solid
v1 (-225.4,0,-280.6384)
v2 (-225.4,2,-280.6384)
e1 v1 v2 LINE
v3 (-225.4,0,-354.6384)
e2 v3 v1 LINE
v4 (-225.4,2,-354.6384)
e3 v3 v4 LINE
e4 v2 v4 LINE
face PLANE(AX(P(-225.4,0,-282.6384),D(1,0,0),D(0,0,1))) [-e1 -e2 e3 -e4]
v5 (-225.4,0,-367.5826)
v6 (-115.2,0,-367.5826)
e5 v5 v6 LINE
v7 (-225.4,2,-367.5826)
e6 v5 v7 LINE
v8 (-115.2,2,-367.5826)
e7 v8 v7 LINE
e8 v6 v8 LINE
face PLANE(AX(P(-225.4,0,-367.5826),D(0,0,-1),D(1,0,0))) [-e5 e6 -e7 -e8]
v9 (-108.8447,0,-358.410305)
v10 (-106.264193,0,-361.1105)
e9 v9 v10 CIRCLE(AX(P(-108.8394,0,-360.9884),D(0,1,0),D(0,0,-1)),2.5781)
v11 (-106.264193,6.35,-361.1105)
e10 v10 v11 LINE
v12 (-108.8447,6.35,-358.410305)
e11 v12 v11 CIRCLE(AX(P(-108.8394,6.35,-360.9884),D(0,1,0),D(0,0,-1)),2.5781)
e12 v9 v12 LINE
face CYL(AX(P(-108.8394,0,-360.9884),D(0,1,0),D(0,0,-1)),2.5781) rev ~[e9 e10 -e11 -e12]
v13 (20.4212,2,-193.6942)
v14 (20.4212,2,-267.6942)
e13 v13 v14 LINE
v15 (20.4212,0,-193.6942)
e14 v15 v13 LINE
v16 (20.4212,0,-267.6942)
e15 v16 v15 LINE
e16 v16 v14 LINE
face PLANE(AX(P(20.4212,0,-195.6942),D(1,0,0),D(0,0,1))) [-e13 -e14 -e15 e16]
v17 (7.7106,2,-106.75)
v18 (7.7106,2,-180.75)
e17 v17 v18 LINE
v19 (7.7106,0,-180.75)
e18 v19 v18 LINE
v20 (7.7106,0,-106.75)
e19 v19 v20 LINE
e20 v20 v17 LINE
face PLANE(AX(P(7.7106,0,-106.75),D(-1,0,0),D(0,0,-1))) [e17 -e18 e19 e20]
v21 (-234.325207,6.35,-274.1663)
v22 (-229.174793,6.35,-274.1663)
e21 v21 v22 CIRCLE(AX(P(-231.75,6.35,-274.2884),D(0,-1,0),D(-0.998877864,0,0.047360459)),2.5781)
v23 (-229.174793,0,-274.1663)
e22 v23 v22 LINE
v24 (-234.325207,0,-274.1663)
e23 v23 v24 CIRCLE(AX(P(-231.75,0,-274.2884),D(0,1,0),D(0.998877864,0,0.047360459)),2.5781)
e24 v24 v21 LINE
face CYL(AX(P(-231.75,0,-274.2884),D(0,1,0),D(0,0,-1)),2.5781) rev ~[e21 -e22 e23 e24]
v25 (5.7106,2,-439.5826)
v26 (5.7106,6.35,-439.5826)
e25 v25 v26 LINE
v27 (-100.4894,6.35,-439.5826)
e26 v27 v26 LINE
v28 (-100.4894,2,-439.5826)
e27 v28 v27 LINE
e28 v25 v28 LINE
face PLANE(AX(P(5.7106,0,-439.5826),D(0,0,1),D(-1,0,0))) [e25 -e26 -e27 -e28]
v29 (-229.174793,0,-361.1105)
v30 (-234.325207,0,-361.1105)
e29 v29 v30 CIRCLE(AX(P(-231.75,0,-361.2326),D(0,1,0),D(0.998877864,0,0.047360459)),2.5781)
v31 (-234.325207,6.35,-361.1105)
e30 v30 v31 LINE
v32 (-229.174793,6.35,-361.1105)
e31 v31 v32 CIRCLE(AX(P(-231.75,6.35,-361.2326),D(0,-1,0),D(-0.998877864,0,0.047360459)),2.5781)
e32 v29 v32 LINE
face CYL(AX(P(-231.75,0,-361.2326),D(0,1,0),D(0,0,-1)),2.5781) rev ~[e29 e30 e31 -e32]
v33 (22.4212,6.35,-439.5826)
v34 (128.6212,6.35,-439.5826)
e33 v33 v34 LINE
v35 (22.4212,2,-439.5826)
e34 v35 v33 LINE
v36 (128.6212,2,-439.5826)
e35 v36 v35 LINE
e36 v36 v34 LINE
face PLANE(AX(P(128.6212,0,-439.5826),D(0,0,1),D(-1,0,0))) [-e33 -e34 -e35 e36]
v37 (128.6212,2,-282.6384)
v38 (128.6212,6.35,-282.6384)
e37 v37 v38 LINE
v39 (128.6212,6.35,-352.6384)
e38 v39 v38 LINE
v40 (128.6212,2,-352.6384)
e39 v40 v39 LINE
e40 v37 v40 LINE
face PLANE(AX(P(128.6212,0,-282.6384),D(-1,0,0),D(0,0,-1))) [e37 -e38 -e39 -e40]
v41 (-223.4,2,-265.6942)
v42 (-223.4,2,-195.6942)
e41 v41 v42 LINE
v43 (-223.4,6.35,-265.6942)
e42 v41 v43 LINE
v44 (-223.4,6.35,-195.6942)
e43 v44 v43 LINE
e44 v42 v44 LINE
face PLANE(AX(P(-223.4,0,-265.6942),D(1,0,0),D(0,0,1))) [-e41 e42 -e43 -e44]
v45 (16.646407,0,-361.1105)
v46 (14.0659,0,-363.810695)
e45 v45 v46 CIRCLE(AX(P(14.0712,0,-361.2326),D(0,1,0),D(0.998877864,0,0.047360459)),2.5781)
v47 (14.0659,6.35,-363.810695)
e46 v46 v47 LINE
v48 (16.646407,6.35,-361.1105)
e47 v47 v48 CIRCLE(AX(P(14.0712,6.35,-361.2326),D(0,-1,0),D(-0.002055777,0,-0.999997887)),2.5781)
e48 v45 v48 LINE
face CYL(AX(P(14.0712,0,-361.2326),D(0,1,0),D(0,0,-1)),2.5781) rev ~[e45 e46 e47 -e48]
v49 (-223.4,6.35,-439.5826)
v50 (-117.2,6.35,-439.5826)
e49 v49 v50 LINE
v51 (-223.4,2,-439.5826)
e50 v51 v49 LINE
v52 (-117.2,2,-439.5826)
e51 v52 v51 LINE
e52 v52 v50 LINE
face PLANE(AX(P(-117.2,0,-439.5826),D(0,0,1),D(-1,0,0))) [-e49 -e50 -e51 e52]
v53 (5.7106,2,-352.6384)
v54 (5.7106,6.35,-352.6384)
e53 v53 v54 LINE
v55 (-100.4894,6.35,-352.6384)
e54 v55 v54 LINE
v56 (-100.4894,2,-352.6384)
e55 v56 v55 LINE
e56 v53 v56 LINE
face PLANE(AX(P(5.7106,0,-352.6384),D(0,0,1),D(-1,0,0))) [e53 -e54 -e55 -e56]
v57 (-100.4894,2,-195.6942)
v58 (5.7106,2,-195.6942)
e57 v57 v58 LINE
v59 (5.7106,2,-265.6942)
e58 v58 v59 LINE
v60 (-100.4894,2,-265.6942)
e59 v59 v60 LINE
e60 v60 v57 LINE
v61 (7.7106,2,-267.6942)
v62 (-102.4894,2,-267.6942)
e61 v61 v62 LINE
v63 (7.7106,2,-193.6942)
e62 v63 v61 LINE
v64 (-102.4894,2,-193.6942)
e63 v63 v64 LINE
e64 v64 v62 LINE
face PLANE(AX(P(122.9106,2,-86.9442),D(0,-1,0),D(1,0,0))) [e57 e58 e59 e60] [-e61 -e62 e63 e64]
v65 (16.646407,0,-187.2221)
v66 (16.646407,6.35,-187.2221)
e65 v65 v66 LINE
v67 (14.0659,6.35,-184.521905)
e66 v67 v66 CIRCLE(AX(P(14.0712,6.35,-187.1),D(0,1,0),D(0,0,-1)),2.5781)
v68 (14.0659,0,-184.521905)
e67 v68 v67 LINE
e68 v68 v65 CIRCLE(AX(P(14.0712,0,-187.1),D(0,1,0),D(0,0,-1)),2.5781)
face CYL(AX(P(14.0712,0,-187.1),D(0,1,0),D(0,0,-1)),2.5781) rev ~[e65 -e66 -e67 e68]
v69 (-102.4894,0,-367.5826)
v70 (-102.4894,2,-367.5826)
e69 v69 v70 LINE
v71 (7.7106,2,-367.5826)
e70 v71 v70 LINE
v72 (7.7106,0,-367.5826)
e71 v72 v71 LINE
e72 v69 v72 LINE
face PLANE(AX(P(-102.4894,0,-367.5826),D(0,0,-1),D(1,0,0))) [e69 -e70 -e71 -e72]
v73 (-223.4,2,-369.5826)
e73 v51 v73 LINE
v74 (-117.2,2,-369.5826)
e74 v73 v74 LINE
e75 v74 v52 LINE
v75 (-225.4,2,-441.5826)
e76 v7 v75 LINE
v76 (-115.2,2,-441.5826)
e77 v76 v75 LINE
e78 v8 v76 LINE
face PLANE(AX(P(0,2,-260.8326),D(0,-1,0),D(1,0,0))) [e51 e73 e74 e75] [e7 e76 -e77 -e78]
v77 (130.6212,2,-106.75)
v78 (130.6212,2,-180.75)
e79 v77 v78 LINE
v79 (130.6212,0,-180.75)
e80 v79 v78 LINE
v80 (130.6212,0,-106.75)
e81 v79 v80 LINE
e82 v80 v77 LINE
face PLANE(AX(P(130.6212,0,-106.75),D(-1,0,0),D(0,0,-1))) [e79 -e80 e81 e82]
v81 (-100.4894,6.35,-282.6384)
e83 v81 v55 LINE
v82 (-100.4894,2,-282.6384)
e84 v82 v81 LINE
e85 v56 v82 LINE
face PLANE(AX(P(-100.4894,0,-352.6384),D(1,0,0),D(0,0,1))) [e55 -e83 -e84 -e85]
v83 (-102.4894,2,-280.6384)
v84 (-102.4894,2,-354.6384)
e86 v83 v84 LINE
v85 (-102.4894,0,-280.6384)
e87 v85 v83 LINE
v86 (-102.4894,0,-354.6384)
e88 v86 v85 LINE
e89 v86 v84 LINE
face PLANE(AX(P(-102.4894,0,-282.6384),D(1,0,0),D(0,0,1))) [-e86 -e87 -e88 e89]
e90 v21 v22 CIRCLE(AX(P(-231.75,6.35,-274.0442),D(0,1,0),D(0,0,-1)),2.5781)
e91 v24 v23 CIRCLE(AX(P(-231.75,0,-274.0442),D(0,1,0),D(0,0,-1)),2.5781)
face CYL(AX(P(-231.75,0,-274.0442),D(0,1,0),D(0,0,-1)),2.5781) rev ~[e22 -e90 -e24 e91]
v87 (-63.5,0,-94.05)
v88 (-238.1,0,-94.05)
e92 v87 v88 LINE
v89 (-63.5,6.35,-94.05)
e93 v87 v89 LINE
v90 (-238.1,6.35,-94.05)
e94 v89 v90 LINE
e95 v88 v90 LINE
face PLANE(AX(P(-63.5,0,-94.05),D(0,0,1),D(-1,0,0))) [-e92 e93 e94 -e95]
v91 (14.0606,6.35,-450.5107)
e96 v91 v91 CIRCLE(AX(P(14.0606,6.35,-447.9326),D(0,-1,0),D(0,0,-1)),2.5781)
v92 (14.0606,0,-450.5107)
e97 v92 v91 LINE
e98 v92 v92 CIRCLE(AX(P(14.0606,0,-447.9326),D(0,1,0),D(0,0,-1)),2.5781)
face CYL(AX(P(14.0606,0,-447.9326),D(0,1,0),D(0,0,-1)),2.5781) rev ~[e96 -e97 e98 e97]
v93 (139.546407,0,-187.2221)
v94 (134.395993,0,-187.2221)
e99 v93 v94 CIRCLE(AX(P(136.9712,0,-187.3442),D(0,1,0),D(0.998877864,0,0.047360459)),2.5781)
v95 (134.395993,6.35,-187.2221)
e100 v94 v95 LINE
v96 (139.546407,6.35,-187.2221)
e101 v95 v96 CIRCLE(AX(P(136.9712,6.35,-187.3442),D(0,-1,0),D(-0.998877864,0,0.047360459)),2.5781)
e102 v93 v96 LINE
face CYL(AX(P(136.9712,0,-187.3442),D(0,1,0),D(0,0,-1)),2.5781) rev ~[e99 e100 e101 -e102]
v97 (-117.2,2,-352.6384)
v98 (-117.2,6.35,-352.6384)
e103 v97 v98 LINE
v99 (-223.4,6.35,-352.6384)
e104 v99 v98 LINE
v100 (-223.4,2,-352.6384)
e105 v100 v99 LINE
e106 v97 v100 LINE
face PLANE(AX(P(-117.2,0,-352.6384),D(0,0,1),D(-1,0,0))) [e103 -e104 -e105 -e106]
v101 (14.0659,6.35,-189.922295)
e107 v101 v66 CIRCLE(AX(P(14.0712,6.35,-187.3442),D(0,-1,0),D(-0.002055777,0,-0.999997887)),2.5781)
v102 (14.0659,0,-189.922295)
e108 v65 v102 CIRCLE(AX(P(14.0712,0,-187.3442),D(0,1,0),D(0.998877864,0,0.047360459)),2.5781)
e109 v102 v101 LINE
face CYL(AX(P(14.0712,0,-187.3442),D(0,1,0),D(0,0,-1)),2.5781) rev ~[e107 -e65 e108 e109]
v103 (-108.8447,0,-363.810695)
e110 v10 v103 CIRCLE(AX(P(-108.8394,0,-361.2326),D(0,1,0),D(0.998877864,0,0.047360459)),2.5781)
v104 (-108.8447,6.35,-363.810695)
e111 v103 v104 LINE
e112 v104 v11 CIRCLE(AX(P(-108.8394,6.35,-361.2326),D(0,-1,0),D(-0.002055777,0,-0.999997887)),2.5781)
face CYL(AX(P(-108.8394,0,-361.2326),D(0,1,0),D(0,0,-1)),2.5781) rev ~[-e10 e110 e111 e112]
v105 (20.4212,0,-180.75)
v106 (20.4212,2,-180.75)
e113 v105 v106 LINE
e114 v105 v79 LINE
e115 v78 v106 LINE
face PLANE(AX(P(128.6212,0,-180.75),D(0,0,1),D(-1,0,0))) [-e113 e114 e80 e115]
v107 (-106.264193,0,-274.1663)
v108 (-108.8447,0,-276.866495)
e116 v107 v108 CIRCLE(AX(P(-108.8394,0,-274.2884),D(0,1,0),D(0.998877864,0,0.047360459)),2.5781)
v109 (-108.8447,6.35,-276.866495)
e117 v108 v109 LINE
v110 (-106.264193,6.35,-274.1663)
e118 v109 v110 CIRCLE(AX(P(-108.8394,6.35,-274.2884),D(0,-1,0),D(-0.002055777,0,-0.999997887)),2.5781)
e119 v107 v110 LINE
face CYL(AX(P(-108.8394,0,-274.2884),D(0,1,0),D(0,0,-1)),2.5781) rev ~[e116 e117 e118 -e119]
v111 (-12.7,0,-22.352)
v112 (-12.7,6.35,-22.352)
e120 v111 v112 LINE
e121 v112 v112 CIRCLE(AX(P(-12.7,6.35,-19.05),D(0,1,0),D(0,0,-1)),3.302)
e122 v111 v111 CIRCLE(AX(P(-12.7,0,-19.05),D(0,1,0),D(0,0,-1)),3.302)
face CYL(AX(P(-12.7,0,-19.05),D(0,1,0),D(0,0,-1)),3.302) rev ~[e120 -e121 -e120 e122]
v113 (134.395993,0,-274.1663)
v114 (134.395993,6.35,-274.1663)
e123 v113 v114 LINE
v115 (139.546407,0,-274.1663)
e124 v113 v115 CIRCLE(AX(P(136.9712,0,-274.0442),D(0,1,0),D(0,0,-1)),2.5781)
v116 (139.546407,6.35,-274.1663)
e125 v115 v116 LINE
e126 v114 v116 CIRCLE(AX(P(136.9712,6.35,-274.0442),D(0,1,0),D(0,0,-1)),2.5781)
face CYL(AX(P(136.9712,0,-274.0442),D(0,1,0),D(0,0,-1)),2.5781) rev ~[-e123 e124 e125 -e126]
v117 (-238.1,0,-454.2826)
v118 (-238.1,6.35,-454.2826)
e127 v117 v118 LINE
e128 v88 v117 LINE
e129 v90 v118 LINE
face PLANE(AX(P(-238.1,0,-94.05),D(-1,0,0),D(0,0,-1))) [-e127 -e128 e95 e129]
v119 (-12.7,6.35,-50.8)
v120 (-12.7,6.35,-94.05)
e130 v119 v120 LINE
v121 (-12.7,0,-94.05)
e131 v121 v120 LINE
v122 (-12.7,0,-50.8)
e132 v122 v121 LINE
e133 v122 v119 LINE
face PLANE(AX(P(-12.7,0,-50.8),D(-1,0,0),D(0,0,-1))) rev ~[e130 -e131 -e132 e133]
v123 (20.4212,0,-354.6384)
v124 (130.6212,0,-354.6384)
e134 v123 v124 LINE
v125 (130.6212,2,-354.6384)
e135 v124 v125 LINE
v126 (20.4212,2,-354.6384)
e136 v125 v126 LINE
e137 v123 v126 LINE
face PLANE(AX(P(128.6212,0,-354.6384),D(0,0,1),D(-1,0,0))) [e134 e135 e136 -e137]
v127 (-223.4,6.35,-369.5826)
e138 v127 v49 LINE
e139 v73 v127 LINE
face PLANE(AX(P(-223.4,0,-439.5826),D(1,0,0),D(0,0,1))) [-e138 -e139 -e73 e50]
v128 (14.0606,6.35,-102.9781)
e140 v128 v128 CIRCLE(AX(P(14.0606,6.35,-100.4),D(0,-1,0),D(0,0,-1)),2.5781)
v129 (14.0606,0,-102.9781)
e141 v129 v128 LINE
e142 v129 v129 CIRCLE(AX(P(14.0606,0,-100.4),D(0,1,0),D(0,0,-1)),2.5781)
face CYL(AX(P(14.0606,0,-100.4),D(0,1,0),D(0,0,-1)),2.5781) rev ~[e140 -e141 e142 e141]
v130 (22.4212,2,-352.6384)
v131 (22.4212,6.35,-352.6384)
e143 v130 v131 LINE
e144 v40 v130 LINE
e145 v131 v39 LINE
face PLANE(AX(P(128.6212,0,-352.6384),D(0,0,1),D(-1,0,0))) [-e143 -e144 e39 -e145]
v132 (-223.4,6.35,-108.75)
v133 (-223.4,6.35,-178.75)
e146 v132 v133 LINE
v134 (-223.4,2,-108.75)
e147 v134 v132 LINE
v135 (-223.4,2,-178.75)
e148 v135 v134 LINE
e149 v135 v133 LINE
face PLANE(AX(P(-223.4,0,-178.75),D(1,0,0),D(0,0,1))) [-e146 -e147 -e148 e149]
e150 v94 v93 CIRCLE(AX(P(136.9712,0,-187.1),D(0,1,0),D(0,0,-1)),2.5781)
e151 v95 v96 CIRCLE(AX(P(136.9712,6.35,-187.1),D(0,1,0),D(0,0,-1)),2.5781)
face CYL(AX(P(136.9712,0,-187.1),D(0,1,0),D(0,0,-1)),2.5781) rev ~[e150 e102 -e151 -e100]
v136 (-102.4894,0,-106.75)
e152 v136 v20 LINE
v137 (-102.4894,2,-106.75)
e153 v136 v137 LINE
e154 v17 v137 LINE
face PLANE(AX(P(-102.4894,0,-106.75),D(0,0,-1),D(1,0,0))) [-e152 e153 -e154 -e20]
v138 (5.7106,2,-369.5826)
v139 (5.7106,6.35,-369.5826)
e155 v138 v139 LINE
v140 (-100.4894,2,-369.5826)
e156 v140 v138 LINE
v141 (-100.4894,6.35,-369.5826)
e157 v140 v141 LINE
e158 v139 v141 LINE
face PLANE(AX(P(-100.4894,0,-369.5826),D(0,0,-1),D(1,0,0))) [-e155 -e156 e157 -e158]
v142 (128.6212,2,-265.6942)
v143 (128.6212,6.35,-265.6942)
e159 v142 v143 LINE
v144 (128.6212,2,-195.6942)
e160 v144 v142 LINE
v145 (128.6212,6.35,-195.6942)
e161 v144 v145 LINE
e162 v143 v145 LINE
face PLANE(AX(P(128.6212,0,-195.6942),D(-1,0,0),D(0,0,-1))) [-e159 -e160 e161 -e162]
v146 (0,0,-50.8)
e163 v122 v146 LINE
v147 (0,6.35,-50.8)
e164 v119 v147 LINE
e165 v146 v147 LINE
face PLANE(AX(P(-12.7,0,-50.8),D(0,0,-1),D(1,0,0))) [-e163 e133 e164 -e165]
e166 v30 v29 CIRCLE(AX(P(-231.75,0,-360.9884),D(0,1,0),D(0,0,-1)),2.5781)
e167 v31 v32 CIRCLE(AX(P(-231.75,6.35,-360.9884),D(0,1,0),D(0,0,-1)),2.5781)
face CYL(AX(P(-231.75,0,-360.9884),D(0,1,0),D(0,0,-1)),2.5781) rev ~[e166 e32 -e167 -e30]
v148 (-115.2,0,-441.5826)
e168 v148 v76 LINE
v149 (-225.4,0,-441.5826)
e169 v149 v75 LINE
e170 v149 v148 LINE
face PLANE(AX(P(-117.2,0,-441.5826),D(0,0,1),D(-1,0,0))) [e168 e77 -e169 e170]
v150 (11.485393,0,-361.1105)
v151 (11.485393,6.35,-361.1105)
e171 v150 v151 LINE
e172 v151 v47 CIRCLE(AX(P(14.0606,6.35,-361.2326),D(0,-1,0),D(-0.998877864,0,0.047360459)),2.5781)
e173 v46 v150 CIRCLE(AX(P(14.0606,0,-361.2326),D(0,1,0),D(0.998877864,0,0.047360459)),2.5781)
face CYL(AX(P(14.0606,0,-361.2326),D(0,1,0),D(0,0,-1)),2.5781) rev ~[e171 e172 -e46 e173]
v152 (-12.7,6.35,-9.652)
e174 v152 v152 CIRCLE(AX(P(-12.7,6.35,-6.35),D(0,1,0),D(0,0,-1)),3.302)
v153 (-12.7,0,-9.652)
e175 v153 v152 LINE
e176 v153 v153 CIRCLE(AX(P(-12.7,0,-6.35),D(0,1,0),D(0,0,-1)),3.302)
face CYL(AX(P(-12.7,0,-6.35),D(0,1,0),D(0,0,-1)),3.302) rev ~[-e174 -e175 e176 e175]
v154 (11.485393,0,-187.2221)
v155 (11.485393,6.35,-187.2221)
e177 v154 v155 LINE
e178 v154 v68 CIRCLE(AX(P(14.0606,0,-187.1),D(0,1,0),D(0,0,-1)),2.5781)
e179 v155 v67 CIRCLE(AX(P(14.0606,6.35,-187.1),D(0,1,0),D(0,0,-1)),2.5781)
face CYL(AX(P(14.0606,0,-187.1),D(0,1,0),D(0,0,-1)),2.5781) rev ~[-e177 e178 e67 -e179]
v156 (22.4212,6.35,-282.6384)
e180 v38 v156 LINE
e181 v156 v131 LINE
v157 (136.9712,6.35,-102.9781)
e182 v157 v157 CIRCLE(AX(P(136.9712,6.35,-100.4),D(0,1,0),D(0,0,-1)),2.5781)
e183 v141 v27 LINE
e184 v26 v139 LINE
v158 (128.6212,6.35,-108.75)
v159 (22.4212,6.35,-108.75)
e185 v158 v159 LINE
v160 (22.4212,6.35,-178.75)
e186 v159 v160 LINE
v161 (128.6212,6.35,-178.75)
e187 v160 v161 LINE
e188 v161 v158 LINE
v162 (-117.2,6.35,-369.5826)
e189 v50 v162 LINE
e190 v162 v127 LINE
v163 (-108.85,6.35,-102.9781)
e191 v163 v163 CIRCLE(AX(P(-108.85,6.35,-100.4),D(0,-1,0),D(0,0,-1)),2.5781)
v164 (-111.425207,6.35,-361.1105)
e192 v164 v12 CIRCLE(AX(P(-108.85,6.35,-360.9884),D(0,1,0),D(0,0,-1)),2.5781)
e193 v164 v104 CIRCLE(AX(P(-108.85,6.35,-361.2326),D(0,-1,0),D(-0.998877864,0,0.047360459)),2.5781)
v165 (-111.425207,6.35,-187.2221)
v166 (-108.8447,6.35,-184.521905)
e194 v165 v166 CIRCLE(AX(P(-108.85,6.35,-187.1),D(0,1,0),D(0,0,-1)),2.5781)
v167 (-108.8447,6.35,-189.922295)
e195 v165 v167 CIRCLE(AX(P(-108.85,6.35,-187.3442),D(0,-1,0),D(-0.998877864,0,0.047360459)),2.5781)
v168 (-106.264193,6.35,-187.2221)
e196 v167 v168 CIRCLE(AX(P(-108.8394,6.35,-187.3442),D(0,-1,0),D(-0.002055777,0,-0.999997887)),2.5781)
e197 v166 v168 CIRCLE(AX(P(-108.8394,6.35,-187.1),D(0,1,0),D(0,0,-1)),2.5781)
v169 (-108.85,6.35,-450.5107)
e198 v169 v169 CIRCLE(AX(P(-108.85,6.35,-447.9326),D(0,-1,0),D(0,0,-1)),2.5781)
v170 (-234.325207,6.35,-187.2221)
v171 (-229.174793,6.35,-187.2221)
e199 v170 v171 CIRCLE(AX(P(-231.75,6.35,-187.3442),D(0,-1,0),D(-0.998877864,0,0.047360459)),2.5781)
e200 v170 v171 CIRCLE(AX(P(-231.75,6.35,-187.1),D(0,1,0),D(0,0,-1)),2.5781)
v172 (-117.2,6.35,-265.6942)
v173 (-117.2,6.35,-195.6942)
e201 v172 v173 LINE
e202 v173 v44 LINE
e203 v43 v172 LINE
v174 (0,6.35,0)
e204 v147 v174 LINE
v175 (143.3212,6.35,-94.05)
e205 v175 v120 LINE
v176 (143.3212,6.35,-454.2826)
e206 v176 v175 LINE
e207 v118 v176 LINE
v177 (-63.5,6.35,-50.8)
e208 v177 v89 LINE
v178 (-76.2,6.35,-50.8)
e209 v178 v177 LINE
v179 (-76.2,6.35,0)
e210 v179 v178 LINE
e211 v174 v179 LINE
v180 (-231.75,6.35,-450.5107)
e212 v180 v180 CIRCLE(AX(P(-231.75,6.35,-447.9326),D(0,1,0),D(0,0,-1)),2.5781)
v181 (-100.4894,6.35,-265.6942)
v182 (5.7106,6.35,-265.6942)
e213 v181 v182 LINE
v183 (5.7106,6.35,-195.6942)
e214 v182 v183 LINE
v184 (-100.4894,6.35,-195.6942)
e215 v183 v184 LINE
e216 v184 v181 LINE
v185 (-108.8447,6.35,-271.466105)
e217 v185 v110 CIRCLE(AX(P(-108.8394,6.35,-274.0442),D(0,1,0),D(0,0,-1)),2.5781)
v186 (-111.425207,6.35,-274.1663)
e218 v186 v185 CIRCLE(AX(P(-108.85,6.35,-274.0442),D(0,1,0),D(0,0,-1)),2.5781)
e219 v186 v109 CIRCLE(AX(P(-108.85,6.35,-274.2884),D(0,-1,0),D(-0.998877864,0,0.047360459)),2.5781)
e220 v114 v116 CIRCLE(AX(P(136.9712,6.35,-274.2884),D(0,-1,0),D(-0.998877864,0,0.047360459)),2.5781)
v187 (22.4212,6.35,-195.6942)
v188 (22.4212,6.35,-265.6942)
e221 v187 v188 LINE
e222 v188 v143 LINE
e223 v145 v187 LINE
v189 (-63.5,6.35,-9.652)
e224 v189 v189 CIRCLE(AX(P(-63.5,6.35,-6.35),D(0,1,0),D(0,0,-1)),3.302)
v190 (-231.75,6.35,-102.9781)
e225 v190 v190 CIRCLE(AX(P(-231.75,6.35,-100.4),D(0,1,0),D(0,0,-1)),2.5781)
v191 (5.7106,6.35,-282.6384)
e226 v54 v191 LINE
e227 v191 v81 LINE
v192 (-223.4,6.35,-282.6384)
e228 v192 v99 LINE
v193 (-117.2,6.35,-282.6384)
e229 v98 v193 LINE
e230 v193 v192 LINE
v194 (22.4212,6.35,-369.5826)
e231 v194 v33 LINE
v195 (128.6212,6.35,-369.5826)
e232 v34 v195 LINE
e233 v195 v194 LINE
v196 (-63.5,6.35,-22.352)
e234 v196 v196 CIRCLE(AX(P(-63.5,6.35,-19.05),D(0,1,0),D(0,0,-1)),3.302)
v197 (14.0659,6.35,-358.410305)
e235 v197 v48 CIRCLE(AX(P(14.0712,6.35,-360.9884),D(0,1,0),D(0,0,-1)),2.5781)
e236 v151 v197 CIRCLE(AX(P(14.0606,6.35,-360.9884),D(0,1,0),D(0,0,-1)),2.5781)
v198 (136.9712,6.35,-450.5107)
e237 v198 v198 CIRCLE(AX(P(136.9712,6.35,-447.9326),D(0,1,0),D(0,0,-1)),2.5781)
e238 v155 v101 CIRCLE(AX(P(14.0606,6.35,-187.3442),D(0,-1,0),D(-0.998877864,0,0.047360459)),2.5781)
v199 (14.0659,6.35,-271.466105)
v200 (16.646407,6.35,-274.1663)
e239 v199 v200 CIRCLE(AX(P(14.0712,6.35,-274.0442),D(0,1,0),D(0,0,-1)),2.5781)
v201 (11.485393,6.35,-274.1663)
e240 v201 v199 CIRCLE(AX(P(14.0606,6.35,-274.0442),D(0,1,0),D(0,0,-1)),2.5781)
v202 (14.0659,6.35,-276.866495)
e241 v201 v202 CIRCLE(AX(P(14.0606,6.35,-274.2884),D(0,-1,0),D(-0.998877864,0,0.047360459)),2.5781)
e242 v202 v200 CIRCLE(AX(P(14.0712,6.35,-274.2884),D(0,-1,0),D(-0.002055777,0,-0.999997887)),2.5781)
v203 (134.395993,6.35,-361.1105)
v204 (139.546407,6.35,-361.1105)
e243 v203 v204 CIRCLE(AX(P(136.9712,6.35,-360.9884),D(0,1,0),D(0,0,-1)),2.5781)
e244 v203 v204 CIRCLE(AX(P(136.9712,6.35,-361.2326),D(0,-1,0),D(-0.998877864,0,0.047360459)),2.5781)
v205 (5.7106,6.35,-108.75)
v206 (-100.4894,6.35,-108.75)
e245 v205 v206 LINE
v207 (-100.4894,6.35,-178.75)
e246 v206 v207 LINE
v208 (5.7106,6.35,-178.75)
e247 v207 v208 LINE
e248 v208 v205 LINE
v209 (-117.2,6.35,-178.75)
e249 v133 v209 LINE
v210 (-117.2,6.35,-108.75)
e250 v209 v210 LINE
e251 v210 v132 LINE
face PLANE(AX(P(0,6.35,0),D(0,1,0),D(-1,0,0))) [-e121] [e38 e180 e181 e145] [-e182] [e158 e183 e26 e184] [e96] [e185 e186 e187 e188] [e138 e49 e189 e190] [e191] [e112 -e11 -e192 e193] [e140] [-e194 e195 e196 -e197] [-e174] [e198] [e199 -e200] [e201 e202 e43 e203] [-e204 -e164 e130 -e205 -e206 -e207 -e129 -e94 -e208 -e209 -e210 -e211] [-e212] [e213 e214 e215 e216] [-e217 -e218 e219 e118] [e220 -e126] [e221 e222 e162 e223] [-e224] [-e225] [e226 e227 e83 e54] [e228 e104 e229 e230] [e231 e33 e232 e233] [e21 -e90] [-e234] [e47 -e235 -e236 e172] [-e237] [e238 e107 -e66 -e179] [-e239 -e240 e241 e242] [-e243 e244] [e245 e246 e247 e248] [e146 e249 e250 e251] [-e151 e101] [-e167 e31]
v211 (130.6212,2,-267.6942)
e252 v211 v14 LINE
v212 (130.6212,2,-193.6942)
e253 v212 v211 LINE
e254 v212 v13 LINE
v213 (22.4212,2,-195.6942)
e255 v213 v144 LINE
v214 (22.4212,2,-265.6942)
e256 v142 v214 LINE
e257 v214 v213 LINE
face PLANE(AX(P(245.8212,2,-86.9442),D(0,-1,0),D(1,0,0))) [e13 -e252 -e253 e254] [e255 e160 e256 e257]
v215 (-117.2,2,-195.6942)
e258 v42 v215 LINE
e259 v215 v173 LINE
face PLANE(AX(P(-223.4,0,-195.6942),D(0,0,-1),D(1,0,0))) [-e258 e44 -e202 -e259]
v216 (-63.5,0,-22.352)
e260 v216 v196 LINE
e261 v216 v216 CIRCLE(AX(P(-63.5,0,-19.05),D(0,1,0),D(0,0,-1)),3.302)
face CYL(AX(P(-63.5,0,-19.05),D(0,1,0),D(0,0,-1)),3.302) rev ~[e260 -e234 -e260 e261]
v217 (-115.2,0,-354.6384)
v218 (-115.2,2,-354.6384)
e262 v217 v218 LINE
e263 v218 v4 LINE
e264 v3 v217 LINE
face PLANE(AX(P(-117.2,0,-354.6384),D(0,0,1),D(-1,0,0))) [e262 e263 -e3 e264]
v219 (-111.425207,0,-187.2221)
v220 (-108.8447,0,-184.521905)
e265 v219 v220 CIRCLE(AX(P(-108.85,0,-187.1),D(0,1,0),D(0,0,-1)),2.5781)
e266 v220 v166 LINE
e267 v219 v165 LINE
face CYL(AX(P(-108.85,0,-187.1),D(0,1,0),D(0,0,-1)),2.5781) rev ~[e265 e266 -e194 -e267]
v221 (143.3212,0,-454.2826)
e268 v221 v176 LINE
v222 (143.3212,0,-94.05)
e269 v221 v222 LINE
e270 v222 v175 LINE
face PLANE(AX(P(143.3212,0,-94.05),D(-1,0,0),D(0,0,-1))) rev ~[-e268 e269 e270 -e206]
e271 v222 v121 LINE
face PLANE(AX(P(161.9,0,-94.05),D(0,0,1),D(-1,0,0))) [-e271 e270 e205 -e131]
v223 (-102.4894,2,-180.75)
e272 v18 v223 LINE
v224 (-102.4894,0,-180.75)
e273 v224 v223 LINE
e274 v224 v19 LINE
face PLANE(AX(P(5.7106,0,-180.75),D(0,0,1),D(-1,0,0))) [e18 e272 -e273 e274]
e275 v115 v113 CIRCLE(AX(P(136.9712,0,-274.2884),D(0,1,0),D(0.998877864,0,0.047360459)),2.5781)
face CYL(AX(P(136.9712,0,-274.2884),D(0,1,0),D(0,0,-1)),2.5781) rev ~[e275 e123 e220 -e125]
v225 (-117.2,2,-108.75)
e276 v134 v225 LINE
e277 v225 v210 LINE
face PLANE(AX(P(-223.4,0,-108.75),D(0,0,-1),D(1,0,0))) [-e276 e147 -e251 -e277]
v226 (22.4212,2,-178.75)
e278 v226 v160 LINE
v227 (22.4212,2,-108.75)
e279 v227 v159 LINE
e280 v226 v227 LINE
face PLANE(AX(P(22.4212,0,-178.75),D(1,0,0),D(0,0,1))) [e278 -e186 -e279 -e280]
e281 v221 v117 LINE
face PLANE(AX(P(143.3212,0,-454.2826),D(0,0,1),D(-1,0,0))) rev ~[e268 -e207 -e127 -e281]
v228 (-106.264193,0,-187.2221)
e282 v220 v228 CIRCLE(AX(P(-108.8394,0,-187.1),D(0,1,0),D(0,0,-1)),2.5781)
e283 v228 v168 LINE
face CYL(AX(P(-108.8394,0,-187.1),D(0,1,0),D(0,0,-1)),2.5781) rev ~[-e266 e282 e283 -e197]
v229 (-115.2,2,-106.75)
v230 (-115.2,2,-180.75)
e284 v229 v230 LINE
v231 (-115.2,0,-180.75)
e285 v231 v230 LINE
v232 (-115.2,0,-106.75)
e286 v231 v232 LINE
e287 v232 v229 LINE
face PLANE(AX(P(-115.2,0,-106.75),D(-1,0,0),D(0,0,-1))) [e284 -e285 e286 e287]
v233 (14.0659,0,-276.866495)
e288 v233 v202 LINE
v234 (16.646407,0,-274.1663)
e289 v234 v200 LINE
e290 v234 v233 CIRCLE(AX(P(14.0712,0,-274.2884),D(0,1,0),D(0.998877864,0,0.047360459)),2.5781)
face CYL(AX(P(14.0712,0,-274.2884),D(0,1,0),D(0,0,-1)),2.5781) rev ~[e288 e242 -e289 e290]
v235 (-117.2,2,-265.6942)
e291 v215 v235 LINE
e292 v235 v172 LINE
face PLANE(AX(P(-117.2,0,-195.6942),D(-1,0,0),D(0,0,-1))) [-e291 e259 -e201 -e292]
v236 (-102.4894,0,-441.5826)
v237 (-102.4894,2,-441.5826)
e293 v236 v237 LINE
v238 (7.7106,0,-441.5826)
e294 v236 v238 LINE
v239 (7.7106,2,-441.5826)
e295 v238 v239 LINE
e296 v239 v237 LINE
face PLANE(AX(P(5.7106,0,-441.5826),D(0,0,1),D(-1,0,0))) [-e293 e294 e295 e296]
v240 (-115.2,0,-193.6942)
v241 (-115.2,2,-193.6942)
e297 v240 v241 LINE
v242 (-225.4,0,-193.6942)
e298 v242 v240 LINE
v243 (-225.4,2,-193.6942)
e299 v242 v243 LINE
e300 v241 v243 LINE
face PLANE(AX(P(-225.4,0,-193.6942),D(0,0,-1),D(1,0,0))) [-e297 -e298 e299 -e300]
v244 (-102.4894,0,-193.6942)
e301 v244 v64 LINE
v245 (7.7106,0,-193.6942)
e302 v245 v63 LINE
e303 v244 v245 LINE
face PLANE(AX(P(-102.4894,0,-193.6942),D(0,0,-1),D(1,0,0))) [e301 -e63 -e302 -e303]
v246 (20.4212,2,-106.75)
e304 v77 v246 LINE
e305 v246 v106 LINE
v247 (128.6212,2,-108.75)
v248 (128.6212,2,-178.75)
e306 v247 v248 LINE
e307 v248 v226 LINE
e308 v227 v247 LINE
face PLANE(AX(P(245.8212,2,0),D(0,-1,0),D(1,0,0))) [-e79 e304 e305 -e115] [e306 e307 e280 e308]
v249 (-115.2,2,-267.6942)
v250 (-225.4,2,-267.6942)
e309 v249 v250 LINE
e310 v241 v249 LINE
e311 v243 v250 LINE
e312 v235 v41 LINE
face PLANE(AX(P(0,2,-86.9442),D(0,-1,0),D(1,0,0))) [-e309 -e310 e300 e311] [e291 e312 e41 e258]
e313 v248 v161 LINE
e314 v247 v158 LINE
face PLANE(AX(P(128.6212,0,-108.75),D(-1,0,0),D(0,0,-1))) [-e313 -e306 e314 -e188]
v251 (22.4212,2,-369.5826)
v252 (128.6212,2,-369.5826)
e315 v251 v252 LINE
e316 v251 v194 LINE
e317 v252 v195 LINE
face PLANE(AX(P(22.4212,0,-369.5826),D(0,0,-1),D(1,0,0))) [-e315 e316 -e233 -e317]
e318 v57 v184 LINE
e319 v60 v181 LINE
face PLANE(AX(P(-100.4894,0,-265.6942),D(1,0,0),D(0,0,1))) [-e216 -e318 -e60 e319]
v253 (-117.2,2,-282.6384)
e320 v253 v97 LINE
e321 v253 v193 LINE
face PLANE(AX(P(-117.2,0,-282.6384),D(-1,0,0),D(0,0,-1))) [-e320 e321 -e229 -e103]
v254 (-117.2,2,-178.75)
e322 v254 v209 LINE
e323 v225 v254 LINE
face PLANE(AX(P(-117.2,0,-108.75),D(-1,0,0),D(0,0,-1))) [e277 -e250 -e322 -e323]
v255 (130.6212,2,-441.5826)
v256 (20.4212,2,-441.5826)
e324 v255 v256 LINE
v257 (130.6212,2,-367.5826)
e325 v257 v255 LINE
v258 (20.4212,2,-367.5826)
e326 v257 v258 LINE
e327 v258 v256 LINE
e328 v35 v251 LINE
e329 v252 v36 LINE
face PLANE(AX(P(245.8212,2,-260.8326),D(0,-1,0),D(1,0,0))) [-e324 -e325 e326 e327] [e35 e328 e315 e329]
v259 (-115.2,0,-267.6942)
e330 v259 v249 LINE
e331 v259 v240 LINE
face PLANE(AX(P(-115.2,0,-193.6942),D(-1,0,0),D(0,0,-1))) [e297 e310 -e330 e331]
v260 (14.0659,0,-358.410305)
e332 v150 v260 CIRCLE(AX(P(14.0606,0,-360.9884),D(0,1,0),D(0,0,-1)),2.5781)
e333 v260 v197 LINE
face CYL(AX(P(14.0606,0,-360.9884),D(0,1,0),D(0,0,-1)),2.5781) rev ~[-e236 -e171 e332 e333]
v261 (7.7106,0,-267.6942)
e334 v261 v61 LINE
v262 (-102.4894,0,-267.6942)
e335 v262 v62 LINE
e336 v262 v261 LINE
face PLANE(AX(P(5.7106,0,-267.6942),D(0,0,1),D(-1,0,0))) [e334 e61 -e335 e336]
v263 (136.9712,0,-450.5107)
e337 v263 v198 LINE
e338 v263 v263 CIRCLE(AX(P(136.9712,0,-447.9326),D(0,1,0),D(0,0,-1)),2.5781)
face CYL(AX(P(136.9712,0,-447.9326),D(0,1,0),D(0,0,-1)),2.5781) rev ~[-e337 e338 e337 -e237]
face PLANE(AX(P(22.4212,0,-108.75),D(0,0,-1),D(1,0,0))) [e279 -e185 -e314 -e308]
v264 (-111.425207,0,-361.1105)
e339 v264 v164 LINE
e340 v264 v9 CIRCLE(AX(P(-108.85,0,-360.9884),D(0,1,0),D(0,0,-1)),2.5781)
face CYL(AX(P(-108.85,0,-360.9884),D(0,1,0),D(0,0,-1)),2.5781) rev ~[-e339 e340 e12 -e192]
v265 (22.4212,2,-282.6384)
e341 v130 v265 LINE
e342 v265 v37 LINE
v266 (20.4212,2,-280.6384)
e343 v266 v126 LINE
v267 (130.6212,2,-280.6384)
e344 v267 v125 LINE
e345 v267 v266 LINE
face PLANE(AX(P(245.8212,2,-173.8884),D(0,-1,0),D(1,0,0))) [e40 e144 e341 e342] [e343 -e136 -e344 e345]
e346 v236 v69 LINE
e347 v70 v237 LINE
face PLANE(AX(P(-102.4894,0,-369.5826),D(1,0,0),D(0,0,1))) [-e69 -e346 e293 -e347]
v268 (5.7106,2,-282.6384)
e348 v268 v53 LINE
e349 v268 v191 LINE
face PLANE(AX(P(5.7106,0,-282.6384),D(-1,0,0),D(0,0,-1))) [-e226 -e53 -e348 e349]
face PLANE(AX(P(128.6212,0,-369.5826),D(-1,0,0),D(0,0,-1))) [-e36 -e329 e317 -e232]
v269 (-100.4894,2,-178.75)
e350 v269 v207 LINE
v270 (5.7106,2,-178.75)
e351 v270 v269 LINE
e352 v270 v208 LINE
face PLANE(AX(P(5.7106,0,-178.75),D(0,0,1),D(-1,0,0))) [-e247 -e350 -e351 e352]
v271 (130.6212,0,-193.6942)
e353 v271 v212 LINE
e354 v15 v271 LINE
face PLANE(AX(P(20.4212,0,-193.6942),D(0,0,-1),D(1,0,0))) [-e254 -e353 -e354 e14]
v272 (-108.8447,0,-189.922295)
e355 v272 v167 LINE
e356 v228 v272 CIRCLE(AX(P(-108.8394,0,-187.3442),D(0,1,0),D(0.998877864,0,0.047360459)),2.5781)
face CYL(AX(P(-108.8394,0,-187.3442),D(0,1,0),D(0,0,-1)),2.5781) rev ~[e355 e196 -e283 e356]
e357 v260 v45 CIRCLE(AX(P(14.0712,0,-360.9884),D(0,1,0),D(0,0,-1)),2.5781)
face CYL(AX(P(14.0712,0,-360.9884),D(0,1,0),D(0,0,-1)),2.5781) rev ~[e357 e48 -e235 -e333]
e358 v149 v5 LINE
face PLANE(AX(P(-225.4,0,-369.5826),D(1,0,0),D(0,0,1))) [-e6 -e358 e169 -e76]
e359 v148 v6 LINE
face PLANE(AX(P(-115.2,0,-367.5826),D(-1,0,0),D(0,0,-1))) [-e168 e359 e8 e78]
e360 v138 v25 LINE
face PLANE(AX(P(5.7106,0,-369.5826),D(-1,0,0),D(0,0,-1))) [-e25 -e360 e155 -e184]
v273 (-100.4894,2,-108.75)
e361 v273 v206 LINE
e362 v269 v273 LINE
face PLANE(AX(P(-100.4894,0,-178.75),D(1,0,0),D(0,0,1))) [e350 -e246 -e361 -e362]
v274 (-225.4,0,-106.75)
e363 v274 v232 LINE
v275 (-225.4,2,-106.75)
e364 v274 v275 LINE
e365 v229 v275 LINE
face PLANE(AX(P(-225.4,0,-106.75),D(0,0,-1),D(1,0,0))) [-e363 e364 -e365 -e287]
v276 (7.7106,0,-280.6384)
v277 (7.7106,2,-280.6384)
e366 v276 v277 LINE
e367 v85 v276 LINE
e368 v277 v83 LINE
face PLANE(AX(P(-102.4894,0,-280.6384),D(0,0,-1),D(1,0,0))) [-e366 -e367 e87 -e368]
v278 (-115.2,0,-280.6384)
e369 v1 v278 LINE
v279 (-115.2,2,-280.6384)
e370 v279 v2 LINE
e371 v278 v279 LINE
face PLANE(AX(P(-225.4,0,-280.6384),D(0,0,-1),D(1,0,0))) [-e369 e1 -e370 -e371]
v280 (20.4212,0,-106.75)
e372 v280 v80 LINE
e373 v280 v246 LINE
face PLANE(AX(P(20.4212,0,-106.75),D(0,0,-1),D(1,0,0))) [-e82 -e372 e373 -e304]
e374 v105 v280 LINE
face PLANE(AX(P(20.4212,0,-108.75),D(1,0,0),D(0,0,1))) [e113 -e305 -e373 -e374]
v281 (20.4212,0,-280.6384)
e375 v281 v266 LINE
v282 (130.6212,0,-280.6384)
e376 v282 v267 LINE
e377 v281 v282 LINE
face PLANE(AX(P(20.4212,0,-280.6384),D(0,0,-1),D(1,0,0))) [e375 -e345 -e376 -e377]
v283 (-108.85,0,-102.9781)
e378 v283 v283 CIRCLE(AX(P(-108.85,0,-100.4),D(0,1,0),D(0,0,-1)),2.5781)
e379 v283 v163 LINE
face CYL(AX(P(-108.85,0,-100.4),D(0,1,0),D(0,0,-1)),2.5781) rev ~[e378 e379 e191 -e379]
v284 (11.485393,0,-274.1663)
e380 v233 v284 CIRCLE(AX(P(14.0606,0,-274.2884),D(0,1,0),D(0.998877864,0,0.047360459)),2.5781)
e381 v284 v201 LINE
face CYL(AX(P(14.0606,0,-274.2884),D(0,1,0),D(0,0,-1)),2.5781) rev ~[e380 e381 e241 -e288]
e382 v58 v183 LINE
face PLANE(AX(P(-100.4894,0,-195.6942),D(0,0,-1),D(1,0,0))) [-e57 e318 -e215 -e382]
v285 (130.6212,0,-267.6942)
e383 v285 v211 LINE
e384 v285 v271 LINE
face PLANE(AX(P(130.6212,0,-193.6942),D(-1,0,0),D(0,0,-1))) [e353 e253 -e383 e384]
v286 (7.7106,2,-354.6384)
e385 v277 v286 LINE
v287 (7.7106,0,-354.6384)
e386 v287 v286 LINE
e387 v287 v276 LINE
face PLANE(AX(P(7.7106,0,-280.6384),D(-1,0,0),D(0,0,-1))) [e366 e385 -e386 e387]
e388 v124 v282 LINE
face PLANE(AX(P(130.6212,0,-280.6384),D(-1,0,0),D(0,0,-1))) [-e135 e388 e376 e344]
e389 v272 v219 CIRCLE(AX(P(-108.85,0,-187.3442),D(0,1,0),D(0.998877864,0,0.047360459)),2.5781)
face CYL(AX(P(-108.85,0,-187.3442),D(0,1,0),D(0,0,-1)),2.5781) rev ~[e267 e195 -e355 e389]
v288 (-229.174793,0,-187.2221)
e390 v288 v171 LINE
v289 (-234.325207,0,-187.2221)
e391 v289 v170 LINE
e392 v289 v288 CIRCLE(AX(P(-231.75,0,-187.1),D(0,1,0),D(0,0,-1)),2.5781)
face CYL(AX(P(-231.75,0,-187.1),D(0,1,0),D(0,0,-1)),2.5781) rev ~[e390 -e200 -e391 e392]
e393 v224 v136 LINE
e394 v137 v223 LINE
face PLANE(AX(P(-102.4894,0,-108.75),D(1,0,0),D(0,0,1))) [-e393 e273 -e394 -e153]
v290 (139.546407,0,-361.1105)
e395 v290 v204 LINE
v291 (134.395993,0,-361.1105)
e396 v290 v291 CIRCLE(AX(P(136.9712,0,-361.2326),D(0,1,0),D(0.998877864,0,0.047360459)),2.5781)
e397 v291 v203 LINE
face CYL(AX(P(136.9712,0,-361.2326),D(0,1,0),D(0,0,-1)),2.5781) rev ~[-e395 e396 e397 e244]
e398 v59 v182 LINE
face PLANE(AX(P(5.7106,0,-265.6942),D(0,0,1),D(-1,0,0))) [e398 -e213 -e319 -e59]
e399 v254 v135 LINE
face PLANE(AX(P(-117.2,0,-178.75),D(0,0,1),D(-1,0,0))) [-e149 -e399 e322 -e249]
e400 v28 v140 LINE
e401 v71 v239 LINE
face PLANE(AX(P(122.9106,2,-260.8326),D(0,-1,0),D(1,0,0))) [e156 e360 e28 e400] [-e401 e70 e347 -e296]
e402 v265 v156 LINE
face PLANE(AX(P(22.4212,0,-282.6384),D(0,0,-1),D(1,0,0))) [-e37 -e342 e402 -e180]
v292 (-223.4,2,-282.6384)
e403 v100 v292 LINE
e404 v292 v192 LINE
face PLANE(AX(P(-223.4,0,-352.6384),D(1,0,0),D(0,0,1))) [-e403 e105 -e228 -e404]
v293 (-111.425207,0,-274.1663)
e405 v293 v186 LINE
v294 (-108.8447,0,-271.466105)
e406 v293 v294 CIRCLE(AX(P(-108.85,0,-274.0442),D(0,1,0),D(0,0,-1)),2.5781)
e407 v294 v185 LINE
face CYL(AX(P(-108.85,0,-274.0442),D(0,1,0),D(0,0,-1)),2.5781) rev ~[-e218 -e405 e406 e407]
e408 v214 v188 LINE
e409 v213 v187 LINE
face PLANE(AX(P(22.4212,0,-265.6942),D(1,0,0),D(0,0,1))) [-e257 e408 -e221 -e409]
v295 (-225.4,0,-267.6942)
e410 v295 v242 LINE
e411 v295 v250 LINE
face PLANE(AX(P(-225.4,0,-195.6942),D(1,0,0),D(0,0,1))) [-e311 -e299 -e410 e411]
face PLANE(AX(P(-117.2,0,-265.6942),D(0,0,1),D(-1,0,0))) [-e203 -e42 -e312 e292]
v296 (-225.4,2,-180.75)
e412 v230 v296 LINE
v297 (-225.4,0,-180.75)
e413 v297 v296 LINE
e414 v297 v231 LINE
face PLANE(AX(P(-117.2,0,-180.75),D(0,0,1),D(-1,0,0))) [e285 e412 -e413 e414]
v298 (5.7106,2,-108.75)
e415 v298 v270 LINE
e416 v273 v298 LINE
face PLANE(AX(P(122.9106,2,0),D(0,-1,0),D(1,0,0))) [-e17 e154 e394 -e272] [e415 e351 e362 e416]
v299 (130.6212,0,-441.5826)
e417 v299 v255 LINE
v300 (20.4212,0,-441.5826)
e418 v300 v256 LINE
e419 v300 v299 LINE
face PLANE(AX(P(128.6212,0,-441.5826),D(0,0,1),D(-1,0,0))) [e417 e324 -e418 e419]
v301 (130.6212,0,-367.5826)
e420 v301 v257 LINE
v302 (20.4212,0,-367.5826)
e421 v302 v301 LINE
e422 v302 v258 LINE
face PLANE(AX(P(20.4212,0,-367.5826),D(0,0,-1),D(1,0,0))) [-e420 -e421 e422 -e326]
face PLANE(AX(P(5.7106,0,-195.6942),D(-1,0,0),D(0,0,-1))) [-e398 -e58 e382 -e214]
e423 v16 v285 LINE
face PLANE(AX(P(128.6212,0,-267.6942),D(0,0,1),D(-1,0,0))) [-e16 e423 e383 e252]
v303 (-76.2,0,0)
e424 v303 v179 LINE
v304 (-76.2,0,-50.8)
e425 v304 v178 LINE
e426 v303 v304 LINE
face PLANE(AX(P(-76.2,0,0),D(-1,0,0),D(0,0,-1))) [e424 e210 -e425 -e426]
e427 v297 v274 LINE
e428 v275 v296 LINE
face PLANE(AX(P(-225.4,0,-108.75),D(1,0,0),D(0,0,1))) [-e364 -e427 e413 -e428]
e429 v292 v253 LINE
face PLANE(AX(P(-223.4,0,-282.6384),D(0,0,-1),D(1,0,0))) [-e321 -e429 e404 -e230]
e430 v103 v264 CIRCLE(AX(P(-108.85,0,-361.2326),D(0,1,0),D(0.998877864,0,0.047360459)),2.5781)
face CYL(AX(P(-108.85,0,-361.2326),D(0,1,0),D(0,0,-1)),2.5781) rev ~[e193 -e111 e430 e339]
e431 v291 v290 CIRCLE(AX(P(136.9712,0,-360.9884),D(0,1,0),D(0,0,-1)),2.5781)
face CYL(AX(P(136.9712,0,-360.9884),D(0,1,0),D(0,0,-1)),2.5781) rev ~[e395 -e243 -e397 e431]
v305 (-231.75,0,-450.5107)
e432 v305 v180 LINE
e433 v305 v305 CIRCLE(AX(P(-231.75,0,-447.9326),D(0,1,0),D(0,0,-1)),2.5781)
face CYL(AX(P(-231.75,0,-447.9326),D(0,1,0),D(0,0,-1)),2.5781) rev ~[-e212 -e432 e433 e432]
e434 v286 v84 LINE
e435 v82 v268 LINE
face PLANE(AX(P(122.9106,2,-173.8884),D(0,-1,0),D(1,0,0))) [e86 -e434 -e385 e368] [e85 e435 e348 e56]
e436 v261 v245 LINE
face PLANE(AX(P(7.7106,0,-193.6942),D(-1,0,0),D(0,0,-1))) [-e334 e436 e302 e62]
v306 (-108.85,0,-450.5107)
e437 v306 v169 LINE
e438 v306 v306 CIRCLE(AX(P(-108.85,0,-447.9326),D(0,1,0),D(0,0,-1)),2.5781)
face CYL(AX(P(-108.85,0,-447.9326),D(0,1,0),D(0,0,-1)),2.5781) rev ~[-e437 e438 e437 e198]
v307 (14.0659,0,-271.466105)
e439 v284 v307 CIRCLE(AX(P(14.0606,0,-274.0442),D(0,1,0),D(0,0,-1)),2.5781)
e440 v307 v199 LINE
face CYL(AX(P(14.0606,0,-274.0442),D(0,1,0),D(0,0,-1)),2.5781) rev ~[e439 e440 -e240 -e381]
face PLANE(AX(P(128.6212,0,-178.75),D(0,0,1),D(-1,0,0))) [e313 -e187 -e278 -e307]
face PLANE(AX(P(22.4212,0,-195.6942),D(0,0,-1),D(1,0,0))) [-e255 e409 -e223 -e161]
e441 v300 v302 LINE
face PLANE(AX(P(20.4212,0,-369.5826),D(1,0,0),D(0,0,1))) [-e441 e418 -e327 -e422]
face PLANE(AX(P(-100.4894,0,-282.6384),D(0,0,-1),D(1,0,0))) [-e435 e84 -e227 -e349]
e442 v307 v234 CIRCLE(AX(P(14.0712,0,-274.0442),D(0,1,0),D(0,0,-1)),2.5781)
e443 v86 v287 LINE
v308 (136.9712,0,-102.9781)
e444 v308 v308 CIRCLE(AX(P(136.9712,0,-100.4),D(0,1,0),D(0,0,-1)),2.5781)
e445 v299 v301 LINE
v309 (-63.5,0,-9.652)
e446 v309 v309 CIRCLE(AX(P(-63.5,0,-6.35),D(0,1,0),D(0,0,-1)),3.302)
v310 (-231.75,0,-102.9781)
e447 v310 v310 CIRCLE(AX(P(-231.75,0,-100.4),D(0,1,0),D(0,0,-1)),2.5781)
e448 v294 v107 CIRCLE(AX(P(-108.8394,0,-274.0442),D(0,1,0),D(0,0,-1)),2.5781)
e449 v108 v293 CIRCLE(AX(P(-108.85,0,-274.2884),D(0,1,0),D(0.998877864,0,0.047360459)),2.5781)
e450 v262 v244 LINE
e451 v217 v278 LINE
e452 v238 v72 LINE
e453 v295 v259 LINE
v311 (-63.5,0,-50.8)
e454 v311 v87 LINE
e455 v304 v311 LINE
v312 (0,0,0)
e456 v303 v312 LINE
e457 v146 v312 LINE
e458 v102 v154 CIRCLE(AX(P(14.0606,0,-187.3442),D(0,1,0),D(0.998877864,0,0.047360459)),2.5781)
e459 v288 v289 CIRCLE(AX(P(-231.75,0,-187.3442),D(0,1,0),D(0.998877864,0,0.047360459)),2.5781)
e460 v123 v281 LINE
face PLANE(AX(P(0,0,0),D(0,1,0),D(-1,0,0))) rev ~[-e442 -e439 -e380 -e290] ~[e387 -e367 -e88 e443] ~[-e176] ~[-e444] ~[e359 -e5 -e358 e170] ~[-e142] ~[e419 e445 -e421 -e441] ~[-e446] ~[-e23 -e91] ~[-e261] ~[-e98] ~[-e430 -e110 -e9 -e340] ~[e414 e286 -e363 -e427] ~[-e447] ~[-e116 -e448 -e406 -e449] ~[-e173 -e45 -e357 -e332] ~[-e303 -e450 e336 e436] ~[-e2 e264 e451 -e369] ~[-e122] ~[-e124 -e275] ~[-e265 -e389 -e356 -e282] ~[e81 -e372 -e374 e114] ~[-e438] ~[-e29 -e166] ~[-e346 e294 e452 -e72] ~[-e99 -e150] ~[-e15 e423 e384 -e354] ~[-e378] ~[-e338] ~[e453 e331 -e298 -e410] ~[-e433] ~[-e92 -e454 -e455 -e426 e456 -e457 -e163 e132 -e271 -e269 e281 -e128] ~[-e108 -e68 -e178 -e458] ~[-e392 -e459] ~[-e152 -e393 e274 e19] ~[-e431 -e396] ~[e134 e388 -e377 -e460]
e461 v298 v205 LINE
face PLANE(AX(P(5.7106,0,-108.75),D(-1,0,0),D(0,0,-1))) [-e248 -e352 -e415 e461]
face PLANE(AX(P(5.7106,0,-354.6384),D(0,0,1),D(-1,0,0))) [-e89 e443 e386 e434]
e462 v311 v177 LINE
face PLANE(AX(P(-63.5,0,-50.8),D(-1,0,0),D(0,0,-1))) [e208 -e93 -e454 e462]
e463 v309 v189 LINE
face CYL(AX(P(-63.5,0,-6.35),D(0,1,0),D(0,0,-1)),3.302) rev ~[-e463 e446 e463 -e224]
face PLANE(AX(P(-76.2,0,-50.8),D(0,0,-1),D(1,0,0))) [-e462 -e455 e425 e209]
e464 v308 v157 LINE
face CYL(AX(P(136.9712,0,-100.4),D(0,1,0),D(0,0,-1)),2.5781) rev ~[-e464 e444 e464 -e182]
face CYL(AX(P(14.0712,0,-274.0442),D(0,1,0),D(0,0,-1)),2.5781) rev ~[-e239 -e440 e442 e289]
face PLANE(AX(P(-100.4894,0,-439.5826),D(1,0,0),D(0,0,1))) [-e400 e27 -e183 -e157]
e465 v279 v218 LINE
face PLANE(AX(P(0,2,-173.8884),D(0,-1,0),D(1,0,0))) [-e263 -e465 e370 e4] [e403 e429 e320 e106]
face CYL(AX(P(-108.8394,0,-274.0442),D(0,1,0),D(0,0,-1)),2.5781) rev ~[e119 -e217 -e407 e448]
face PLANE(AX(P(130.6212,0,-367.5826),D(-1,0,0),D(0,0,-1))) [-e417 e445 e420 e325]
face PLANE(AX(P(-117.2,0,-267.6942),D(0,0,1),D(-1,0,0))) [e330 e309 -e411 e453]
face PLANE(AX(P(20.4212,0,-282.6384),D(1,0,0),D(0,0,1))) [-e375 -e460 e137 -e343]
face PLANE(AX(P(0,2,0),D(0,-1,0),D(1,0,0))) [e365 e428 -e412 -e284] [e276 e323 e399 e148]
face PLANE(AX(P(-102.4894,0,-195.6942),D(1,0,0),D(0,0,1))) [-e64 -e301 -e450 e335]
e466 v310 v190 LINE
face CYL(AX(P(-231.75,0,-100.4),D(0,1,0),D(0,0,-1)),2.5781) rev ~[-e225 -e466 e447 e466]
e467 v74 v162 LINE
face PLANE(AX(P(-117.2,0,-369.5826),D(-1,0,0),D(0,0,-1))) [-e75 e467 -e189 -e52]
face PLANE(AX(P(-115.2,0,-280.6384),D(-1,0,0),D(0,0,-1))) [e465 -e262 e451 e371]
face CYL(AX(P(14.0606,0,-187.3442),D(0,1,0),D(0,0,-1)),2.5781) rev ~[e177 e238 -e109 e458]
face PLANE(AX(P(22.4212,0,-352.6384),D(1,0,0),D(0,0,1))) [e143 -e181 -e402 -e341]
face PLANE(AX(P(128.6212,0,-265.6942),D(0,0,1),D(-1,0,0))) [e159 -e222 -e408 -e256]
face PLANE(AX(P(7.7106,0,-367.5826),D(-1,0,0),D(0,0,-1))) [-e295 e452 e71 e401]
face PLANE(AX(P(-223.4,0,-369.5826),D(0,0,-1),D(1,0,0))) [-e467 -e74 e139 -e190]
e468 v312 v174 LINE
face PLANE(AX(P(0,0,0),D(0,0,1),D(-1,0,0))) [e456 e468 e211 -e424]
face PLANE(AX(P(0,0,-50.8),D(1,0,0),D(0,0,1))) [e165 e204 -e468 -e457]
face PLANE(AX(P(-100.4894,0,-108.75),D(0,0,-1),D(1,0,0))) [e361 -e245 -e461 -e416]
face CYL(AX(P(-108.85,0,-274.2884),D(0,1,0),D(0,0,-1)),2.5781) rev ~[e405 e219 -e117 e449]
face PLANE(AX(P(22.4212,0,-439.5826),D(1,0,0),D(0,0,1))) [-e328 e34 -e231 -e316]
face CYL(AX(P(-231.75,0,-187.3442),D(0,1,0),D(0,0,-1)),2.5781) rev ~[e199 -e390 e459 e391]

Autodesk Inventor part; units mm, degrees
ref_plane "YZ Plane" through (0, 0, 0) normal (1, 0, 0) x (0, 1, 0)
ref_plane "XZ Plane" through (0, 0, 0) normal (0, 1, 0) x (-1, 0, 0)
ref_plane "XY Plane" through (0, 0, 0) normal (0, 0, 1) x (1, 0, 0)
sketch "Sketch1" plane through (0, 0, 0) normal (0, 1, 0) x (-1, 0, 0)
  line L0 (0, 0) -> (76.2, 0)
  line L1 (76.2, 0) -> (76.2, -50.8)
  line L2 (76.2, -50.8) -> (0, -50.8)
  line L3 (0, -50.8) -> (0, 0)
  line L4 (38.1, 0) -> (38.1, -6.35)
  line L5 (38.1, -6.35) -> (12.7, -6.35)
  line L6 (38.1, -6.35) -> (63.5, -6.35)
  line L7 (38.1, -6.35) -> (63.5, -6.35) construction
  line L8 (63.5, -6.35) -> (63.5, -19.05)
  line L9 (12.7, -6.35) -> (12.7, -19.05)
  line L10 (63.5, -19.05) -> (63.5, -25.4)
  line L11 (12.7, -19.05) -> (12.7, -25.4)
  line L12 (63.5, -19.05) -> (63.5, -94.05)
  line L13 (63.5, -19.05) -> (138.5, -19.05) construction
  line L14 (12.7, -19.05) -> (12.7, -94.05)
  line L15 (63.5, -94.05) -> (38.1, -94.05)
  line L16 (38.1, -94.05) -> (38.1, -294.05)
  line L17 (38.1, -94.05) -> (238.1, -94.05) construction
  line L18 (238.1, -494.05) -> (-161.9, -494.05)
  line L19 (-161.9, -494.05) -> (-161.9, -94.05)
  line L20 (-161.9, -94.05) -> (238.1, -94.05)
  line L21 (238.1, -94.05) -> (238.1, -494.05)
  line L22 (238.1, -494.05) -> (-161.9, -94.05) construction
  line L23 (-161.9, -494.05) -> (238.1, -94.05) construction
  point P0 (63.5, -50.8)
  point P1 (12.7, -50.8)
  dimension "d0" = 76.2
  dimension "d1" = 50.8
  dimension "d2" = 6.35
  dimension "d3" = 25.4
  dimension "d4" = 25.4
  dimension "d5" = 0
  dimension "d6" = 12.7
  dimension "d7" = 12.7
  dimension "d8" = 6.35
  dimension "d9" = 6.35
  dimension "d10" = 75
  dimension "d11" = 90
  dimension "d12" = 75
  dimension "d13" = 25.4
  dimension "d14" = 200
  dimension "d15" = 90
  dimension "d16" = 400
  dimension "d17" = 400
extrude "Extrusion1" add sketch "Sketch1" along normal blind 6.35
hole "Hole1" at (-12.7, 0, -6.35) at (-12.7, 0, -19.05) at (-63.5, 0, -6.35) at (-63.5, 0, -19.05) direction (0, 1, 0) diameter 6.604 end through all
sketch "Sketch2" plane through (0, 0, 0) normal (0, -1, 0) x (1, 0, 0)
  line L0 (-238.1, -94.05) -> (-63.5, -94.05) projected
  line L1 (-238.1, -94.05) -> (-238.1, -100.4)
  line L2 (-238.1, -94.05) -> (-231.75, -94.05) construction
  line L3 (-238.1, -100.4) -> (-231.75, -100.4)
  line L4 (-231.75, -100.4) -> (-225.4, -100.4)
  line L5 (-225.4, -100.4) -> (-225.4, -106.75)
  line L6 (-225.4, -106.75) -> (-115.2, -106.75)
  line L7 (-115.2, -106.75) -> (-115.2, -180.75)
  line L8 (-115.2, -180.75) -> (-225.4, -180.75)
  line L9 (-225.4, -180.75) -> (-225.4, -106.75)
  line L10 (-115.2, -106.75) -> (-115.2, -100.4)
  line L11 (-115.2, -100.4) -> (-108.85, -100.4)
  line L12 (-225.4, -180.75) -> (-231.75, -180.75)
  line L13 (-231.75, -180.75) -> (-231.75, -187.1)
  line L14 (-115.2, -180.75) -> (-115.2, -187.1)
  line L15 (-115.2, -187.1) -> (-108.85, -187.1)
  line L16 (-225.4, -106.75) -> (-225.4, -114.75)
  line L17 (-225.4, -106.75) -> (-217.4, -106.75) construction
  line L18 (-225.4, -106.75) -> (-223.4, -106.75)
  line L19 (-223.4, -106.75) -> (-223.4, -108.75)
  line L20 (-223.4, -108.75) -> (-225.4, -108.75)
  line L21 (-225.4, -108.75) -> (-225.4, -106.75)
  line L22 (-115.2, -180.75) -> (-117.2, -180.75)
  line L23 (-117.2, -180.75) -> (-117.2, -178.75)
  line L24 (-117.2, -178.75) -> (-115.2, -178.75)
  line L25 (-115.2, -178.75) -> (-115.2, -180.75)
  line L26 (-223.4, -108.75) -> (-117.2, -108.75)
  line L27 (-117.2, -108.75) -> (-117.2, -178.75)
  line L28 (-117.2, -178.75) -> (-223.4, -178.75)
  line L29 (-223.4, -178.75) -> (-223.4, -108.75)
  point P0 (0, 0)
  dimension "d27" = 6.35
  dimension "d28" = 90
  dimension "d29" = 6.35
  dimension "d30" = 6.35
  dimension "d31" = 6.35
  dimension "d32" = 110.2
  dimension "d33" = 74
  dimension "d34" = 6.35
  dimension "d35" = 6.35
  dimension "d36" = 6.35
  dimension "d37" = 6.35
  dimension "d38" = 6.35
  dimension "d39" = 8
  dimension "d40" = 90
  dimension "d41" = 2
  dimension "d42" = 2
  dimension "d43" = 2
  dimension "d44" = 2
extrude "Extrusion2" cut sketch "Sketch2" against normal through all contours L26 L27 L28 L29
hole "Hole2" at (-231.75, 0, -100.4) at (-231.75, 0, -187.1) at (-108.85, 0, -100.4) at (-108.85, 0, -187.1) direction (0, 1, 0) diameter 5.1562 end through all
extrude "Extrusion3" cut sketch "Sketch2" against normal blind 2 contours L6 L19 L20 L9 | L6 L7 L24 L27 L26 L19 | L20 L29 L28 L23 L8 L9 | L7 L8 L23 L24
pattern_linear "Rectangular Pattern1" count 3 spacing 122.9106 along (1, 0, 0) count 4 spacing 86.9442 along (0, 0, -1) of "Extrusion2", "Hole2", "Extrusion3"
sketch "Sketch3" plane through (0, 0, 0) normal (0, -1, 0) x (1, 0, 0)
  circle A0 centre (136.9712, -447.9326) radius 2.5781 projected
  line L0 (136.9712, -447.9326) -> (143.3212, -447.9326)
  line L1 (143.3212, -447.9326) -> (143.3212, -454.2826)
  line L2 (143.3212, -454.2826) -> (136.9712, -454.2826)
  line L3 (136.9712, -454.2826) -> (136.9712, -447.9326)
  line L4 (-12.7, -94.05) -> (161.9, -94.05) projected
  line L5 (143.3212, -454.2826) -> (161.9, -454.2826)
  line L6 (161.9, -454.2826) -> (161.9, -94.05)
  line L7 (161.9, -94.05) -> (143.3212, -94.05)
  line L8 (143.3212, -94.05) -> (143.3212, -454.2826)
  line L9 (161.9, -454.2826) -> (-238.1, -454.2826)
  line L10 (-238.1, -454.2826) -> (-238.1, -500.3541)
  line L11 (-238.1, -500.3541) -> (161.9, -500.3541)
  line L12 (161.9, -500.3541) -> (161.9, -454.2826)
  point P0 (0, 0)
  dimension "d62" = 6.35
  dimension "d63" = 6.35
extrude "Extrusion4" cut sketch "Sketch3" against normal through all contours L8 L4 L6 L5 L1 | L2 L5 L12 L11 L10 L9
properties part number "WellPlateFrame"
